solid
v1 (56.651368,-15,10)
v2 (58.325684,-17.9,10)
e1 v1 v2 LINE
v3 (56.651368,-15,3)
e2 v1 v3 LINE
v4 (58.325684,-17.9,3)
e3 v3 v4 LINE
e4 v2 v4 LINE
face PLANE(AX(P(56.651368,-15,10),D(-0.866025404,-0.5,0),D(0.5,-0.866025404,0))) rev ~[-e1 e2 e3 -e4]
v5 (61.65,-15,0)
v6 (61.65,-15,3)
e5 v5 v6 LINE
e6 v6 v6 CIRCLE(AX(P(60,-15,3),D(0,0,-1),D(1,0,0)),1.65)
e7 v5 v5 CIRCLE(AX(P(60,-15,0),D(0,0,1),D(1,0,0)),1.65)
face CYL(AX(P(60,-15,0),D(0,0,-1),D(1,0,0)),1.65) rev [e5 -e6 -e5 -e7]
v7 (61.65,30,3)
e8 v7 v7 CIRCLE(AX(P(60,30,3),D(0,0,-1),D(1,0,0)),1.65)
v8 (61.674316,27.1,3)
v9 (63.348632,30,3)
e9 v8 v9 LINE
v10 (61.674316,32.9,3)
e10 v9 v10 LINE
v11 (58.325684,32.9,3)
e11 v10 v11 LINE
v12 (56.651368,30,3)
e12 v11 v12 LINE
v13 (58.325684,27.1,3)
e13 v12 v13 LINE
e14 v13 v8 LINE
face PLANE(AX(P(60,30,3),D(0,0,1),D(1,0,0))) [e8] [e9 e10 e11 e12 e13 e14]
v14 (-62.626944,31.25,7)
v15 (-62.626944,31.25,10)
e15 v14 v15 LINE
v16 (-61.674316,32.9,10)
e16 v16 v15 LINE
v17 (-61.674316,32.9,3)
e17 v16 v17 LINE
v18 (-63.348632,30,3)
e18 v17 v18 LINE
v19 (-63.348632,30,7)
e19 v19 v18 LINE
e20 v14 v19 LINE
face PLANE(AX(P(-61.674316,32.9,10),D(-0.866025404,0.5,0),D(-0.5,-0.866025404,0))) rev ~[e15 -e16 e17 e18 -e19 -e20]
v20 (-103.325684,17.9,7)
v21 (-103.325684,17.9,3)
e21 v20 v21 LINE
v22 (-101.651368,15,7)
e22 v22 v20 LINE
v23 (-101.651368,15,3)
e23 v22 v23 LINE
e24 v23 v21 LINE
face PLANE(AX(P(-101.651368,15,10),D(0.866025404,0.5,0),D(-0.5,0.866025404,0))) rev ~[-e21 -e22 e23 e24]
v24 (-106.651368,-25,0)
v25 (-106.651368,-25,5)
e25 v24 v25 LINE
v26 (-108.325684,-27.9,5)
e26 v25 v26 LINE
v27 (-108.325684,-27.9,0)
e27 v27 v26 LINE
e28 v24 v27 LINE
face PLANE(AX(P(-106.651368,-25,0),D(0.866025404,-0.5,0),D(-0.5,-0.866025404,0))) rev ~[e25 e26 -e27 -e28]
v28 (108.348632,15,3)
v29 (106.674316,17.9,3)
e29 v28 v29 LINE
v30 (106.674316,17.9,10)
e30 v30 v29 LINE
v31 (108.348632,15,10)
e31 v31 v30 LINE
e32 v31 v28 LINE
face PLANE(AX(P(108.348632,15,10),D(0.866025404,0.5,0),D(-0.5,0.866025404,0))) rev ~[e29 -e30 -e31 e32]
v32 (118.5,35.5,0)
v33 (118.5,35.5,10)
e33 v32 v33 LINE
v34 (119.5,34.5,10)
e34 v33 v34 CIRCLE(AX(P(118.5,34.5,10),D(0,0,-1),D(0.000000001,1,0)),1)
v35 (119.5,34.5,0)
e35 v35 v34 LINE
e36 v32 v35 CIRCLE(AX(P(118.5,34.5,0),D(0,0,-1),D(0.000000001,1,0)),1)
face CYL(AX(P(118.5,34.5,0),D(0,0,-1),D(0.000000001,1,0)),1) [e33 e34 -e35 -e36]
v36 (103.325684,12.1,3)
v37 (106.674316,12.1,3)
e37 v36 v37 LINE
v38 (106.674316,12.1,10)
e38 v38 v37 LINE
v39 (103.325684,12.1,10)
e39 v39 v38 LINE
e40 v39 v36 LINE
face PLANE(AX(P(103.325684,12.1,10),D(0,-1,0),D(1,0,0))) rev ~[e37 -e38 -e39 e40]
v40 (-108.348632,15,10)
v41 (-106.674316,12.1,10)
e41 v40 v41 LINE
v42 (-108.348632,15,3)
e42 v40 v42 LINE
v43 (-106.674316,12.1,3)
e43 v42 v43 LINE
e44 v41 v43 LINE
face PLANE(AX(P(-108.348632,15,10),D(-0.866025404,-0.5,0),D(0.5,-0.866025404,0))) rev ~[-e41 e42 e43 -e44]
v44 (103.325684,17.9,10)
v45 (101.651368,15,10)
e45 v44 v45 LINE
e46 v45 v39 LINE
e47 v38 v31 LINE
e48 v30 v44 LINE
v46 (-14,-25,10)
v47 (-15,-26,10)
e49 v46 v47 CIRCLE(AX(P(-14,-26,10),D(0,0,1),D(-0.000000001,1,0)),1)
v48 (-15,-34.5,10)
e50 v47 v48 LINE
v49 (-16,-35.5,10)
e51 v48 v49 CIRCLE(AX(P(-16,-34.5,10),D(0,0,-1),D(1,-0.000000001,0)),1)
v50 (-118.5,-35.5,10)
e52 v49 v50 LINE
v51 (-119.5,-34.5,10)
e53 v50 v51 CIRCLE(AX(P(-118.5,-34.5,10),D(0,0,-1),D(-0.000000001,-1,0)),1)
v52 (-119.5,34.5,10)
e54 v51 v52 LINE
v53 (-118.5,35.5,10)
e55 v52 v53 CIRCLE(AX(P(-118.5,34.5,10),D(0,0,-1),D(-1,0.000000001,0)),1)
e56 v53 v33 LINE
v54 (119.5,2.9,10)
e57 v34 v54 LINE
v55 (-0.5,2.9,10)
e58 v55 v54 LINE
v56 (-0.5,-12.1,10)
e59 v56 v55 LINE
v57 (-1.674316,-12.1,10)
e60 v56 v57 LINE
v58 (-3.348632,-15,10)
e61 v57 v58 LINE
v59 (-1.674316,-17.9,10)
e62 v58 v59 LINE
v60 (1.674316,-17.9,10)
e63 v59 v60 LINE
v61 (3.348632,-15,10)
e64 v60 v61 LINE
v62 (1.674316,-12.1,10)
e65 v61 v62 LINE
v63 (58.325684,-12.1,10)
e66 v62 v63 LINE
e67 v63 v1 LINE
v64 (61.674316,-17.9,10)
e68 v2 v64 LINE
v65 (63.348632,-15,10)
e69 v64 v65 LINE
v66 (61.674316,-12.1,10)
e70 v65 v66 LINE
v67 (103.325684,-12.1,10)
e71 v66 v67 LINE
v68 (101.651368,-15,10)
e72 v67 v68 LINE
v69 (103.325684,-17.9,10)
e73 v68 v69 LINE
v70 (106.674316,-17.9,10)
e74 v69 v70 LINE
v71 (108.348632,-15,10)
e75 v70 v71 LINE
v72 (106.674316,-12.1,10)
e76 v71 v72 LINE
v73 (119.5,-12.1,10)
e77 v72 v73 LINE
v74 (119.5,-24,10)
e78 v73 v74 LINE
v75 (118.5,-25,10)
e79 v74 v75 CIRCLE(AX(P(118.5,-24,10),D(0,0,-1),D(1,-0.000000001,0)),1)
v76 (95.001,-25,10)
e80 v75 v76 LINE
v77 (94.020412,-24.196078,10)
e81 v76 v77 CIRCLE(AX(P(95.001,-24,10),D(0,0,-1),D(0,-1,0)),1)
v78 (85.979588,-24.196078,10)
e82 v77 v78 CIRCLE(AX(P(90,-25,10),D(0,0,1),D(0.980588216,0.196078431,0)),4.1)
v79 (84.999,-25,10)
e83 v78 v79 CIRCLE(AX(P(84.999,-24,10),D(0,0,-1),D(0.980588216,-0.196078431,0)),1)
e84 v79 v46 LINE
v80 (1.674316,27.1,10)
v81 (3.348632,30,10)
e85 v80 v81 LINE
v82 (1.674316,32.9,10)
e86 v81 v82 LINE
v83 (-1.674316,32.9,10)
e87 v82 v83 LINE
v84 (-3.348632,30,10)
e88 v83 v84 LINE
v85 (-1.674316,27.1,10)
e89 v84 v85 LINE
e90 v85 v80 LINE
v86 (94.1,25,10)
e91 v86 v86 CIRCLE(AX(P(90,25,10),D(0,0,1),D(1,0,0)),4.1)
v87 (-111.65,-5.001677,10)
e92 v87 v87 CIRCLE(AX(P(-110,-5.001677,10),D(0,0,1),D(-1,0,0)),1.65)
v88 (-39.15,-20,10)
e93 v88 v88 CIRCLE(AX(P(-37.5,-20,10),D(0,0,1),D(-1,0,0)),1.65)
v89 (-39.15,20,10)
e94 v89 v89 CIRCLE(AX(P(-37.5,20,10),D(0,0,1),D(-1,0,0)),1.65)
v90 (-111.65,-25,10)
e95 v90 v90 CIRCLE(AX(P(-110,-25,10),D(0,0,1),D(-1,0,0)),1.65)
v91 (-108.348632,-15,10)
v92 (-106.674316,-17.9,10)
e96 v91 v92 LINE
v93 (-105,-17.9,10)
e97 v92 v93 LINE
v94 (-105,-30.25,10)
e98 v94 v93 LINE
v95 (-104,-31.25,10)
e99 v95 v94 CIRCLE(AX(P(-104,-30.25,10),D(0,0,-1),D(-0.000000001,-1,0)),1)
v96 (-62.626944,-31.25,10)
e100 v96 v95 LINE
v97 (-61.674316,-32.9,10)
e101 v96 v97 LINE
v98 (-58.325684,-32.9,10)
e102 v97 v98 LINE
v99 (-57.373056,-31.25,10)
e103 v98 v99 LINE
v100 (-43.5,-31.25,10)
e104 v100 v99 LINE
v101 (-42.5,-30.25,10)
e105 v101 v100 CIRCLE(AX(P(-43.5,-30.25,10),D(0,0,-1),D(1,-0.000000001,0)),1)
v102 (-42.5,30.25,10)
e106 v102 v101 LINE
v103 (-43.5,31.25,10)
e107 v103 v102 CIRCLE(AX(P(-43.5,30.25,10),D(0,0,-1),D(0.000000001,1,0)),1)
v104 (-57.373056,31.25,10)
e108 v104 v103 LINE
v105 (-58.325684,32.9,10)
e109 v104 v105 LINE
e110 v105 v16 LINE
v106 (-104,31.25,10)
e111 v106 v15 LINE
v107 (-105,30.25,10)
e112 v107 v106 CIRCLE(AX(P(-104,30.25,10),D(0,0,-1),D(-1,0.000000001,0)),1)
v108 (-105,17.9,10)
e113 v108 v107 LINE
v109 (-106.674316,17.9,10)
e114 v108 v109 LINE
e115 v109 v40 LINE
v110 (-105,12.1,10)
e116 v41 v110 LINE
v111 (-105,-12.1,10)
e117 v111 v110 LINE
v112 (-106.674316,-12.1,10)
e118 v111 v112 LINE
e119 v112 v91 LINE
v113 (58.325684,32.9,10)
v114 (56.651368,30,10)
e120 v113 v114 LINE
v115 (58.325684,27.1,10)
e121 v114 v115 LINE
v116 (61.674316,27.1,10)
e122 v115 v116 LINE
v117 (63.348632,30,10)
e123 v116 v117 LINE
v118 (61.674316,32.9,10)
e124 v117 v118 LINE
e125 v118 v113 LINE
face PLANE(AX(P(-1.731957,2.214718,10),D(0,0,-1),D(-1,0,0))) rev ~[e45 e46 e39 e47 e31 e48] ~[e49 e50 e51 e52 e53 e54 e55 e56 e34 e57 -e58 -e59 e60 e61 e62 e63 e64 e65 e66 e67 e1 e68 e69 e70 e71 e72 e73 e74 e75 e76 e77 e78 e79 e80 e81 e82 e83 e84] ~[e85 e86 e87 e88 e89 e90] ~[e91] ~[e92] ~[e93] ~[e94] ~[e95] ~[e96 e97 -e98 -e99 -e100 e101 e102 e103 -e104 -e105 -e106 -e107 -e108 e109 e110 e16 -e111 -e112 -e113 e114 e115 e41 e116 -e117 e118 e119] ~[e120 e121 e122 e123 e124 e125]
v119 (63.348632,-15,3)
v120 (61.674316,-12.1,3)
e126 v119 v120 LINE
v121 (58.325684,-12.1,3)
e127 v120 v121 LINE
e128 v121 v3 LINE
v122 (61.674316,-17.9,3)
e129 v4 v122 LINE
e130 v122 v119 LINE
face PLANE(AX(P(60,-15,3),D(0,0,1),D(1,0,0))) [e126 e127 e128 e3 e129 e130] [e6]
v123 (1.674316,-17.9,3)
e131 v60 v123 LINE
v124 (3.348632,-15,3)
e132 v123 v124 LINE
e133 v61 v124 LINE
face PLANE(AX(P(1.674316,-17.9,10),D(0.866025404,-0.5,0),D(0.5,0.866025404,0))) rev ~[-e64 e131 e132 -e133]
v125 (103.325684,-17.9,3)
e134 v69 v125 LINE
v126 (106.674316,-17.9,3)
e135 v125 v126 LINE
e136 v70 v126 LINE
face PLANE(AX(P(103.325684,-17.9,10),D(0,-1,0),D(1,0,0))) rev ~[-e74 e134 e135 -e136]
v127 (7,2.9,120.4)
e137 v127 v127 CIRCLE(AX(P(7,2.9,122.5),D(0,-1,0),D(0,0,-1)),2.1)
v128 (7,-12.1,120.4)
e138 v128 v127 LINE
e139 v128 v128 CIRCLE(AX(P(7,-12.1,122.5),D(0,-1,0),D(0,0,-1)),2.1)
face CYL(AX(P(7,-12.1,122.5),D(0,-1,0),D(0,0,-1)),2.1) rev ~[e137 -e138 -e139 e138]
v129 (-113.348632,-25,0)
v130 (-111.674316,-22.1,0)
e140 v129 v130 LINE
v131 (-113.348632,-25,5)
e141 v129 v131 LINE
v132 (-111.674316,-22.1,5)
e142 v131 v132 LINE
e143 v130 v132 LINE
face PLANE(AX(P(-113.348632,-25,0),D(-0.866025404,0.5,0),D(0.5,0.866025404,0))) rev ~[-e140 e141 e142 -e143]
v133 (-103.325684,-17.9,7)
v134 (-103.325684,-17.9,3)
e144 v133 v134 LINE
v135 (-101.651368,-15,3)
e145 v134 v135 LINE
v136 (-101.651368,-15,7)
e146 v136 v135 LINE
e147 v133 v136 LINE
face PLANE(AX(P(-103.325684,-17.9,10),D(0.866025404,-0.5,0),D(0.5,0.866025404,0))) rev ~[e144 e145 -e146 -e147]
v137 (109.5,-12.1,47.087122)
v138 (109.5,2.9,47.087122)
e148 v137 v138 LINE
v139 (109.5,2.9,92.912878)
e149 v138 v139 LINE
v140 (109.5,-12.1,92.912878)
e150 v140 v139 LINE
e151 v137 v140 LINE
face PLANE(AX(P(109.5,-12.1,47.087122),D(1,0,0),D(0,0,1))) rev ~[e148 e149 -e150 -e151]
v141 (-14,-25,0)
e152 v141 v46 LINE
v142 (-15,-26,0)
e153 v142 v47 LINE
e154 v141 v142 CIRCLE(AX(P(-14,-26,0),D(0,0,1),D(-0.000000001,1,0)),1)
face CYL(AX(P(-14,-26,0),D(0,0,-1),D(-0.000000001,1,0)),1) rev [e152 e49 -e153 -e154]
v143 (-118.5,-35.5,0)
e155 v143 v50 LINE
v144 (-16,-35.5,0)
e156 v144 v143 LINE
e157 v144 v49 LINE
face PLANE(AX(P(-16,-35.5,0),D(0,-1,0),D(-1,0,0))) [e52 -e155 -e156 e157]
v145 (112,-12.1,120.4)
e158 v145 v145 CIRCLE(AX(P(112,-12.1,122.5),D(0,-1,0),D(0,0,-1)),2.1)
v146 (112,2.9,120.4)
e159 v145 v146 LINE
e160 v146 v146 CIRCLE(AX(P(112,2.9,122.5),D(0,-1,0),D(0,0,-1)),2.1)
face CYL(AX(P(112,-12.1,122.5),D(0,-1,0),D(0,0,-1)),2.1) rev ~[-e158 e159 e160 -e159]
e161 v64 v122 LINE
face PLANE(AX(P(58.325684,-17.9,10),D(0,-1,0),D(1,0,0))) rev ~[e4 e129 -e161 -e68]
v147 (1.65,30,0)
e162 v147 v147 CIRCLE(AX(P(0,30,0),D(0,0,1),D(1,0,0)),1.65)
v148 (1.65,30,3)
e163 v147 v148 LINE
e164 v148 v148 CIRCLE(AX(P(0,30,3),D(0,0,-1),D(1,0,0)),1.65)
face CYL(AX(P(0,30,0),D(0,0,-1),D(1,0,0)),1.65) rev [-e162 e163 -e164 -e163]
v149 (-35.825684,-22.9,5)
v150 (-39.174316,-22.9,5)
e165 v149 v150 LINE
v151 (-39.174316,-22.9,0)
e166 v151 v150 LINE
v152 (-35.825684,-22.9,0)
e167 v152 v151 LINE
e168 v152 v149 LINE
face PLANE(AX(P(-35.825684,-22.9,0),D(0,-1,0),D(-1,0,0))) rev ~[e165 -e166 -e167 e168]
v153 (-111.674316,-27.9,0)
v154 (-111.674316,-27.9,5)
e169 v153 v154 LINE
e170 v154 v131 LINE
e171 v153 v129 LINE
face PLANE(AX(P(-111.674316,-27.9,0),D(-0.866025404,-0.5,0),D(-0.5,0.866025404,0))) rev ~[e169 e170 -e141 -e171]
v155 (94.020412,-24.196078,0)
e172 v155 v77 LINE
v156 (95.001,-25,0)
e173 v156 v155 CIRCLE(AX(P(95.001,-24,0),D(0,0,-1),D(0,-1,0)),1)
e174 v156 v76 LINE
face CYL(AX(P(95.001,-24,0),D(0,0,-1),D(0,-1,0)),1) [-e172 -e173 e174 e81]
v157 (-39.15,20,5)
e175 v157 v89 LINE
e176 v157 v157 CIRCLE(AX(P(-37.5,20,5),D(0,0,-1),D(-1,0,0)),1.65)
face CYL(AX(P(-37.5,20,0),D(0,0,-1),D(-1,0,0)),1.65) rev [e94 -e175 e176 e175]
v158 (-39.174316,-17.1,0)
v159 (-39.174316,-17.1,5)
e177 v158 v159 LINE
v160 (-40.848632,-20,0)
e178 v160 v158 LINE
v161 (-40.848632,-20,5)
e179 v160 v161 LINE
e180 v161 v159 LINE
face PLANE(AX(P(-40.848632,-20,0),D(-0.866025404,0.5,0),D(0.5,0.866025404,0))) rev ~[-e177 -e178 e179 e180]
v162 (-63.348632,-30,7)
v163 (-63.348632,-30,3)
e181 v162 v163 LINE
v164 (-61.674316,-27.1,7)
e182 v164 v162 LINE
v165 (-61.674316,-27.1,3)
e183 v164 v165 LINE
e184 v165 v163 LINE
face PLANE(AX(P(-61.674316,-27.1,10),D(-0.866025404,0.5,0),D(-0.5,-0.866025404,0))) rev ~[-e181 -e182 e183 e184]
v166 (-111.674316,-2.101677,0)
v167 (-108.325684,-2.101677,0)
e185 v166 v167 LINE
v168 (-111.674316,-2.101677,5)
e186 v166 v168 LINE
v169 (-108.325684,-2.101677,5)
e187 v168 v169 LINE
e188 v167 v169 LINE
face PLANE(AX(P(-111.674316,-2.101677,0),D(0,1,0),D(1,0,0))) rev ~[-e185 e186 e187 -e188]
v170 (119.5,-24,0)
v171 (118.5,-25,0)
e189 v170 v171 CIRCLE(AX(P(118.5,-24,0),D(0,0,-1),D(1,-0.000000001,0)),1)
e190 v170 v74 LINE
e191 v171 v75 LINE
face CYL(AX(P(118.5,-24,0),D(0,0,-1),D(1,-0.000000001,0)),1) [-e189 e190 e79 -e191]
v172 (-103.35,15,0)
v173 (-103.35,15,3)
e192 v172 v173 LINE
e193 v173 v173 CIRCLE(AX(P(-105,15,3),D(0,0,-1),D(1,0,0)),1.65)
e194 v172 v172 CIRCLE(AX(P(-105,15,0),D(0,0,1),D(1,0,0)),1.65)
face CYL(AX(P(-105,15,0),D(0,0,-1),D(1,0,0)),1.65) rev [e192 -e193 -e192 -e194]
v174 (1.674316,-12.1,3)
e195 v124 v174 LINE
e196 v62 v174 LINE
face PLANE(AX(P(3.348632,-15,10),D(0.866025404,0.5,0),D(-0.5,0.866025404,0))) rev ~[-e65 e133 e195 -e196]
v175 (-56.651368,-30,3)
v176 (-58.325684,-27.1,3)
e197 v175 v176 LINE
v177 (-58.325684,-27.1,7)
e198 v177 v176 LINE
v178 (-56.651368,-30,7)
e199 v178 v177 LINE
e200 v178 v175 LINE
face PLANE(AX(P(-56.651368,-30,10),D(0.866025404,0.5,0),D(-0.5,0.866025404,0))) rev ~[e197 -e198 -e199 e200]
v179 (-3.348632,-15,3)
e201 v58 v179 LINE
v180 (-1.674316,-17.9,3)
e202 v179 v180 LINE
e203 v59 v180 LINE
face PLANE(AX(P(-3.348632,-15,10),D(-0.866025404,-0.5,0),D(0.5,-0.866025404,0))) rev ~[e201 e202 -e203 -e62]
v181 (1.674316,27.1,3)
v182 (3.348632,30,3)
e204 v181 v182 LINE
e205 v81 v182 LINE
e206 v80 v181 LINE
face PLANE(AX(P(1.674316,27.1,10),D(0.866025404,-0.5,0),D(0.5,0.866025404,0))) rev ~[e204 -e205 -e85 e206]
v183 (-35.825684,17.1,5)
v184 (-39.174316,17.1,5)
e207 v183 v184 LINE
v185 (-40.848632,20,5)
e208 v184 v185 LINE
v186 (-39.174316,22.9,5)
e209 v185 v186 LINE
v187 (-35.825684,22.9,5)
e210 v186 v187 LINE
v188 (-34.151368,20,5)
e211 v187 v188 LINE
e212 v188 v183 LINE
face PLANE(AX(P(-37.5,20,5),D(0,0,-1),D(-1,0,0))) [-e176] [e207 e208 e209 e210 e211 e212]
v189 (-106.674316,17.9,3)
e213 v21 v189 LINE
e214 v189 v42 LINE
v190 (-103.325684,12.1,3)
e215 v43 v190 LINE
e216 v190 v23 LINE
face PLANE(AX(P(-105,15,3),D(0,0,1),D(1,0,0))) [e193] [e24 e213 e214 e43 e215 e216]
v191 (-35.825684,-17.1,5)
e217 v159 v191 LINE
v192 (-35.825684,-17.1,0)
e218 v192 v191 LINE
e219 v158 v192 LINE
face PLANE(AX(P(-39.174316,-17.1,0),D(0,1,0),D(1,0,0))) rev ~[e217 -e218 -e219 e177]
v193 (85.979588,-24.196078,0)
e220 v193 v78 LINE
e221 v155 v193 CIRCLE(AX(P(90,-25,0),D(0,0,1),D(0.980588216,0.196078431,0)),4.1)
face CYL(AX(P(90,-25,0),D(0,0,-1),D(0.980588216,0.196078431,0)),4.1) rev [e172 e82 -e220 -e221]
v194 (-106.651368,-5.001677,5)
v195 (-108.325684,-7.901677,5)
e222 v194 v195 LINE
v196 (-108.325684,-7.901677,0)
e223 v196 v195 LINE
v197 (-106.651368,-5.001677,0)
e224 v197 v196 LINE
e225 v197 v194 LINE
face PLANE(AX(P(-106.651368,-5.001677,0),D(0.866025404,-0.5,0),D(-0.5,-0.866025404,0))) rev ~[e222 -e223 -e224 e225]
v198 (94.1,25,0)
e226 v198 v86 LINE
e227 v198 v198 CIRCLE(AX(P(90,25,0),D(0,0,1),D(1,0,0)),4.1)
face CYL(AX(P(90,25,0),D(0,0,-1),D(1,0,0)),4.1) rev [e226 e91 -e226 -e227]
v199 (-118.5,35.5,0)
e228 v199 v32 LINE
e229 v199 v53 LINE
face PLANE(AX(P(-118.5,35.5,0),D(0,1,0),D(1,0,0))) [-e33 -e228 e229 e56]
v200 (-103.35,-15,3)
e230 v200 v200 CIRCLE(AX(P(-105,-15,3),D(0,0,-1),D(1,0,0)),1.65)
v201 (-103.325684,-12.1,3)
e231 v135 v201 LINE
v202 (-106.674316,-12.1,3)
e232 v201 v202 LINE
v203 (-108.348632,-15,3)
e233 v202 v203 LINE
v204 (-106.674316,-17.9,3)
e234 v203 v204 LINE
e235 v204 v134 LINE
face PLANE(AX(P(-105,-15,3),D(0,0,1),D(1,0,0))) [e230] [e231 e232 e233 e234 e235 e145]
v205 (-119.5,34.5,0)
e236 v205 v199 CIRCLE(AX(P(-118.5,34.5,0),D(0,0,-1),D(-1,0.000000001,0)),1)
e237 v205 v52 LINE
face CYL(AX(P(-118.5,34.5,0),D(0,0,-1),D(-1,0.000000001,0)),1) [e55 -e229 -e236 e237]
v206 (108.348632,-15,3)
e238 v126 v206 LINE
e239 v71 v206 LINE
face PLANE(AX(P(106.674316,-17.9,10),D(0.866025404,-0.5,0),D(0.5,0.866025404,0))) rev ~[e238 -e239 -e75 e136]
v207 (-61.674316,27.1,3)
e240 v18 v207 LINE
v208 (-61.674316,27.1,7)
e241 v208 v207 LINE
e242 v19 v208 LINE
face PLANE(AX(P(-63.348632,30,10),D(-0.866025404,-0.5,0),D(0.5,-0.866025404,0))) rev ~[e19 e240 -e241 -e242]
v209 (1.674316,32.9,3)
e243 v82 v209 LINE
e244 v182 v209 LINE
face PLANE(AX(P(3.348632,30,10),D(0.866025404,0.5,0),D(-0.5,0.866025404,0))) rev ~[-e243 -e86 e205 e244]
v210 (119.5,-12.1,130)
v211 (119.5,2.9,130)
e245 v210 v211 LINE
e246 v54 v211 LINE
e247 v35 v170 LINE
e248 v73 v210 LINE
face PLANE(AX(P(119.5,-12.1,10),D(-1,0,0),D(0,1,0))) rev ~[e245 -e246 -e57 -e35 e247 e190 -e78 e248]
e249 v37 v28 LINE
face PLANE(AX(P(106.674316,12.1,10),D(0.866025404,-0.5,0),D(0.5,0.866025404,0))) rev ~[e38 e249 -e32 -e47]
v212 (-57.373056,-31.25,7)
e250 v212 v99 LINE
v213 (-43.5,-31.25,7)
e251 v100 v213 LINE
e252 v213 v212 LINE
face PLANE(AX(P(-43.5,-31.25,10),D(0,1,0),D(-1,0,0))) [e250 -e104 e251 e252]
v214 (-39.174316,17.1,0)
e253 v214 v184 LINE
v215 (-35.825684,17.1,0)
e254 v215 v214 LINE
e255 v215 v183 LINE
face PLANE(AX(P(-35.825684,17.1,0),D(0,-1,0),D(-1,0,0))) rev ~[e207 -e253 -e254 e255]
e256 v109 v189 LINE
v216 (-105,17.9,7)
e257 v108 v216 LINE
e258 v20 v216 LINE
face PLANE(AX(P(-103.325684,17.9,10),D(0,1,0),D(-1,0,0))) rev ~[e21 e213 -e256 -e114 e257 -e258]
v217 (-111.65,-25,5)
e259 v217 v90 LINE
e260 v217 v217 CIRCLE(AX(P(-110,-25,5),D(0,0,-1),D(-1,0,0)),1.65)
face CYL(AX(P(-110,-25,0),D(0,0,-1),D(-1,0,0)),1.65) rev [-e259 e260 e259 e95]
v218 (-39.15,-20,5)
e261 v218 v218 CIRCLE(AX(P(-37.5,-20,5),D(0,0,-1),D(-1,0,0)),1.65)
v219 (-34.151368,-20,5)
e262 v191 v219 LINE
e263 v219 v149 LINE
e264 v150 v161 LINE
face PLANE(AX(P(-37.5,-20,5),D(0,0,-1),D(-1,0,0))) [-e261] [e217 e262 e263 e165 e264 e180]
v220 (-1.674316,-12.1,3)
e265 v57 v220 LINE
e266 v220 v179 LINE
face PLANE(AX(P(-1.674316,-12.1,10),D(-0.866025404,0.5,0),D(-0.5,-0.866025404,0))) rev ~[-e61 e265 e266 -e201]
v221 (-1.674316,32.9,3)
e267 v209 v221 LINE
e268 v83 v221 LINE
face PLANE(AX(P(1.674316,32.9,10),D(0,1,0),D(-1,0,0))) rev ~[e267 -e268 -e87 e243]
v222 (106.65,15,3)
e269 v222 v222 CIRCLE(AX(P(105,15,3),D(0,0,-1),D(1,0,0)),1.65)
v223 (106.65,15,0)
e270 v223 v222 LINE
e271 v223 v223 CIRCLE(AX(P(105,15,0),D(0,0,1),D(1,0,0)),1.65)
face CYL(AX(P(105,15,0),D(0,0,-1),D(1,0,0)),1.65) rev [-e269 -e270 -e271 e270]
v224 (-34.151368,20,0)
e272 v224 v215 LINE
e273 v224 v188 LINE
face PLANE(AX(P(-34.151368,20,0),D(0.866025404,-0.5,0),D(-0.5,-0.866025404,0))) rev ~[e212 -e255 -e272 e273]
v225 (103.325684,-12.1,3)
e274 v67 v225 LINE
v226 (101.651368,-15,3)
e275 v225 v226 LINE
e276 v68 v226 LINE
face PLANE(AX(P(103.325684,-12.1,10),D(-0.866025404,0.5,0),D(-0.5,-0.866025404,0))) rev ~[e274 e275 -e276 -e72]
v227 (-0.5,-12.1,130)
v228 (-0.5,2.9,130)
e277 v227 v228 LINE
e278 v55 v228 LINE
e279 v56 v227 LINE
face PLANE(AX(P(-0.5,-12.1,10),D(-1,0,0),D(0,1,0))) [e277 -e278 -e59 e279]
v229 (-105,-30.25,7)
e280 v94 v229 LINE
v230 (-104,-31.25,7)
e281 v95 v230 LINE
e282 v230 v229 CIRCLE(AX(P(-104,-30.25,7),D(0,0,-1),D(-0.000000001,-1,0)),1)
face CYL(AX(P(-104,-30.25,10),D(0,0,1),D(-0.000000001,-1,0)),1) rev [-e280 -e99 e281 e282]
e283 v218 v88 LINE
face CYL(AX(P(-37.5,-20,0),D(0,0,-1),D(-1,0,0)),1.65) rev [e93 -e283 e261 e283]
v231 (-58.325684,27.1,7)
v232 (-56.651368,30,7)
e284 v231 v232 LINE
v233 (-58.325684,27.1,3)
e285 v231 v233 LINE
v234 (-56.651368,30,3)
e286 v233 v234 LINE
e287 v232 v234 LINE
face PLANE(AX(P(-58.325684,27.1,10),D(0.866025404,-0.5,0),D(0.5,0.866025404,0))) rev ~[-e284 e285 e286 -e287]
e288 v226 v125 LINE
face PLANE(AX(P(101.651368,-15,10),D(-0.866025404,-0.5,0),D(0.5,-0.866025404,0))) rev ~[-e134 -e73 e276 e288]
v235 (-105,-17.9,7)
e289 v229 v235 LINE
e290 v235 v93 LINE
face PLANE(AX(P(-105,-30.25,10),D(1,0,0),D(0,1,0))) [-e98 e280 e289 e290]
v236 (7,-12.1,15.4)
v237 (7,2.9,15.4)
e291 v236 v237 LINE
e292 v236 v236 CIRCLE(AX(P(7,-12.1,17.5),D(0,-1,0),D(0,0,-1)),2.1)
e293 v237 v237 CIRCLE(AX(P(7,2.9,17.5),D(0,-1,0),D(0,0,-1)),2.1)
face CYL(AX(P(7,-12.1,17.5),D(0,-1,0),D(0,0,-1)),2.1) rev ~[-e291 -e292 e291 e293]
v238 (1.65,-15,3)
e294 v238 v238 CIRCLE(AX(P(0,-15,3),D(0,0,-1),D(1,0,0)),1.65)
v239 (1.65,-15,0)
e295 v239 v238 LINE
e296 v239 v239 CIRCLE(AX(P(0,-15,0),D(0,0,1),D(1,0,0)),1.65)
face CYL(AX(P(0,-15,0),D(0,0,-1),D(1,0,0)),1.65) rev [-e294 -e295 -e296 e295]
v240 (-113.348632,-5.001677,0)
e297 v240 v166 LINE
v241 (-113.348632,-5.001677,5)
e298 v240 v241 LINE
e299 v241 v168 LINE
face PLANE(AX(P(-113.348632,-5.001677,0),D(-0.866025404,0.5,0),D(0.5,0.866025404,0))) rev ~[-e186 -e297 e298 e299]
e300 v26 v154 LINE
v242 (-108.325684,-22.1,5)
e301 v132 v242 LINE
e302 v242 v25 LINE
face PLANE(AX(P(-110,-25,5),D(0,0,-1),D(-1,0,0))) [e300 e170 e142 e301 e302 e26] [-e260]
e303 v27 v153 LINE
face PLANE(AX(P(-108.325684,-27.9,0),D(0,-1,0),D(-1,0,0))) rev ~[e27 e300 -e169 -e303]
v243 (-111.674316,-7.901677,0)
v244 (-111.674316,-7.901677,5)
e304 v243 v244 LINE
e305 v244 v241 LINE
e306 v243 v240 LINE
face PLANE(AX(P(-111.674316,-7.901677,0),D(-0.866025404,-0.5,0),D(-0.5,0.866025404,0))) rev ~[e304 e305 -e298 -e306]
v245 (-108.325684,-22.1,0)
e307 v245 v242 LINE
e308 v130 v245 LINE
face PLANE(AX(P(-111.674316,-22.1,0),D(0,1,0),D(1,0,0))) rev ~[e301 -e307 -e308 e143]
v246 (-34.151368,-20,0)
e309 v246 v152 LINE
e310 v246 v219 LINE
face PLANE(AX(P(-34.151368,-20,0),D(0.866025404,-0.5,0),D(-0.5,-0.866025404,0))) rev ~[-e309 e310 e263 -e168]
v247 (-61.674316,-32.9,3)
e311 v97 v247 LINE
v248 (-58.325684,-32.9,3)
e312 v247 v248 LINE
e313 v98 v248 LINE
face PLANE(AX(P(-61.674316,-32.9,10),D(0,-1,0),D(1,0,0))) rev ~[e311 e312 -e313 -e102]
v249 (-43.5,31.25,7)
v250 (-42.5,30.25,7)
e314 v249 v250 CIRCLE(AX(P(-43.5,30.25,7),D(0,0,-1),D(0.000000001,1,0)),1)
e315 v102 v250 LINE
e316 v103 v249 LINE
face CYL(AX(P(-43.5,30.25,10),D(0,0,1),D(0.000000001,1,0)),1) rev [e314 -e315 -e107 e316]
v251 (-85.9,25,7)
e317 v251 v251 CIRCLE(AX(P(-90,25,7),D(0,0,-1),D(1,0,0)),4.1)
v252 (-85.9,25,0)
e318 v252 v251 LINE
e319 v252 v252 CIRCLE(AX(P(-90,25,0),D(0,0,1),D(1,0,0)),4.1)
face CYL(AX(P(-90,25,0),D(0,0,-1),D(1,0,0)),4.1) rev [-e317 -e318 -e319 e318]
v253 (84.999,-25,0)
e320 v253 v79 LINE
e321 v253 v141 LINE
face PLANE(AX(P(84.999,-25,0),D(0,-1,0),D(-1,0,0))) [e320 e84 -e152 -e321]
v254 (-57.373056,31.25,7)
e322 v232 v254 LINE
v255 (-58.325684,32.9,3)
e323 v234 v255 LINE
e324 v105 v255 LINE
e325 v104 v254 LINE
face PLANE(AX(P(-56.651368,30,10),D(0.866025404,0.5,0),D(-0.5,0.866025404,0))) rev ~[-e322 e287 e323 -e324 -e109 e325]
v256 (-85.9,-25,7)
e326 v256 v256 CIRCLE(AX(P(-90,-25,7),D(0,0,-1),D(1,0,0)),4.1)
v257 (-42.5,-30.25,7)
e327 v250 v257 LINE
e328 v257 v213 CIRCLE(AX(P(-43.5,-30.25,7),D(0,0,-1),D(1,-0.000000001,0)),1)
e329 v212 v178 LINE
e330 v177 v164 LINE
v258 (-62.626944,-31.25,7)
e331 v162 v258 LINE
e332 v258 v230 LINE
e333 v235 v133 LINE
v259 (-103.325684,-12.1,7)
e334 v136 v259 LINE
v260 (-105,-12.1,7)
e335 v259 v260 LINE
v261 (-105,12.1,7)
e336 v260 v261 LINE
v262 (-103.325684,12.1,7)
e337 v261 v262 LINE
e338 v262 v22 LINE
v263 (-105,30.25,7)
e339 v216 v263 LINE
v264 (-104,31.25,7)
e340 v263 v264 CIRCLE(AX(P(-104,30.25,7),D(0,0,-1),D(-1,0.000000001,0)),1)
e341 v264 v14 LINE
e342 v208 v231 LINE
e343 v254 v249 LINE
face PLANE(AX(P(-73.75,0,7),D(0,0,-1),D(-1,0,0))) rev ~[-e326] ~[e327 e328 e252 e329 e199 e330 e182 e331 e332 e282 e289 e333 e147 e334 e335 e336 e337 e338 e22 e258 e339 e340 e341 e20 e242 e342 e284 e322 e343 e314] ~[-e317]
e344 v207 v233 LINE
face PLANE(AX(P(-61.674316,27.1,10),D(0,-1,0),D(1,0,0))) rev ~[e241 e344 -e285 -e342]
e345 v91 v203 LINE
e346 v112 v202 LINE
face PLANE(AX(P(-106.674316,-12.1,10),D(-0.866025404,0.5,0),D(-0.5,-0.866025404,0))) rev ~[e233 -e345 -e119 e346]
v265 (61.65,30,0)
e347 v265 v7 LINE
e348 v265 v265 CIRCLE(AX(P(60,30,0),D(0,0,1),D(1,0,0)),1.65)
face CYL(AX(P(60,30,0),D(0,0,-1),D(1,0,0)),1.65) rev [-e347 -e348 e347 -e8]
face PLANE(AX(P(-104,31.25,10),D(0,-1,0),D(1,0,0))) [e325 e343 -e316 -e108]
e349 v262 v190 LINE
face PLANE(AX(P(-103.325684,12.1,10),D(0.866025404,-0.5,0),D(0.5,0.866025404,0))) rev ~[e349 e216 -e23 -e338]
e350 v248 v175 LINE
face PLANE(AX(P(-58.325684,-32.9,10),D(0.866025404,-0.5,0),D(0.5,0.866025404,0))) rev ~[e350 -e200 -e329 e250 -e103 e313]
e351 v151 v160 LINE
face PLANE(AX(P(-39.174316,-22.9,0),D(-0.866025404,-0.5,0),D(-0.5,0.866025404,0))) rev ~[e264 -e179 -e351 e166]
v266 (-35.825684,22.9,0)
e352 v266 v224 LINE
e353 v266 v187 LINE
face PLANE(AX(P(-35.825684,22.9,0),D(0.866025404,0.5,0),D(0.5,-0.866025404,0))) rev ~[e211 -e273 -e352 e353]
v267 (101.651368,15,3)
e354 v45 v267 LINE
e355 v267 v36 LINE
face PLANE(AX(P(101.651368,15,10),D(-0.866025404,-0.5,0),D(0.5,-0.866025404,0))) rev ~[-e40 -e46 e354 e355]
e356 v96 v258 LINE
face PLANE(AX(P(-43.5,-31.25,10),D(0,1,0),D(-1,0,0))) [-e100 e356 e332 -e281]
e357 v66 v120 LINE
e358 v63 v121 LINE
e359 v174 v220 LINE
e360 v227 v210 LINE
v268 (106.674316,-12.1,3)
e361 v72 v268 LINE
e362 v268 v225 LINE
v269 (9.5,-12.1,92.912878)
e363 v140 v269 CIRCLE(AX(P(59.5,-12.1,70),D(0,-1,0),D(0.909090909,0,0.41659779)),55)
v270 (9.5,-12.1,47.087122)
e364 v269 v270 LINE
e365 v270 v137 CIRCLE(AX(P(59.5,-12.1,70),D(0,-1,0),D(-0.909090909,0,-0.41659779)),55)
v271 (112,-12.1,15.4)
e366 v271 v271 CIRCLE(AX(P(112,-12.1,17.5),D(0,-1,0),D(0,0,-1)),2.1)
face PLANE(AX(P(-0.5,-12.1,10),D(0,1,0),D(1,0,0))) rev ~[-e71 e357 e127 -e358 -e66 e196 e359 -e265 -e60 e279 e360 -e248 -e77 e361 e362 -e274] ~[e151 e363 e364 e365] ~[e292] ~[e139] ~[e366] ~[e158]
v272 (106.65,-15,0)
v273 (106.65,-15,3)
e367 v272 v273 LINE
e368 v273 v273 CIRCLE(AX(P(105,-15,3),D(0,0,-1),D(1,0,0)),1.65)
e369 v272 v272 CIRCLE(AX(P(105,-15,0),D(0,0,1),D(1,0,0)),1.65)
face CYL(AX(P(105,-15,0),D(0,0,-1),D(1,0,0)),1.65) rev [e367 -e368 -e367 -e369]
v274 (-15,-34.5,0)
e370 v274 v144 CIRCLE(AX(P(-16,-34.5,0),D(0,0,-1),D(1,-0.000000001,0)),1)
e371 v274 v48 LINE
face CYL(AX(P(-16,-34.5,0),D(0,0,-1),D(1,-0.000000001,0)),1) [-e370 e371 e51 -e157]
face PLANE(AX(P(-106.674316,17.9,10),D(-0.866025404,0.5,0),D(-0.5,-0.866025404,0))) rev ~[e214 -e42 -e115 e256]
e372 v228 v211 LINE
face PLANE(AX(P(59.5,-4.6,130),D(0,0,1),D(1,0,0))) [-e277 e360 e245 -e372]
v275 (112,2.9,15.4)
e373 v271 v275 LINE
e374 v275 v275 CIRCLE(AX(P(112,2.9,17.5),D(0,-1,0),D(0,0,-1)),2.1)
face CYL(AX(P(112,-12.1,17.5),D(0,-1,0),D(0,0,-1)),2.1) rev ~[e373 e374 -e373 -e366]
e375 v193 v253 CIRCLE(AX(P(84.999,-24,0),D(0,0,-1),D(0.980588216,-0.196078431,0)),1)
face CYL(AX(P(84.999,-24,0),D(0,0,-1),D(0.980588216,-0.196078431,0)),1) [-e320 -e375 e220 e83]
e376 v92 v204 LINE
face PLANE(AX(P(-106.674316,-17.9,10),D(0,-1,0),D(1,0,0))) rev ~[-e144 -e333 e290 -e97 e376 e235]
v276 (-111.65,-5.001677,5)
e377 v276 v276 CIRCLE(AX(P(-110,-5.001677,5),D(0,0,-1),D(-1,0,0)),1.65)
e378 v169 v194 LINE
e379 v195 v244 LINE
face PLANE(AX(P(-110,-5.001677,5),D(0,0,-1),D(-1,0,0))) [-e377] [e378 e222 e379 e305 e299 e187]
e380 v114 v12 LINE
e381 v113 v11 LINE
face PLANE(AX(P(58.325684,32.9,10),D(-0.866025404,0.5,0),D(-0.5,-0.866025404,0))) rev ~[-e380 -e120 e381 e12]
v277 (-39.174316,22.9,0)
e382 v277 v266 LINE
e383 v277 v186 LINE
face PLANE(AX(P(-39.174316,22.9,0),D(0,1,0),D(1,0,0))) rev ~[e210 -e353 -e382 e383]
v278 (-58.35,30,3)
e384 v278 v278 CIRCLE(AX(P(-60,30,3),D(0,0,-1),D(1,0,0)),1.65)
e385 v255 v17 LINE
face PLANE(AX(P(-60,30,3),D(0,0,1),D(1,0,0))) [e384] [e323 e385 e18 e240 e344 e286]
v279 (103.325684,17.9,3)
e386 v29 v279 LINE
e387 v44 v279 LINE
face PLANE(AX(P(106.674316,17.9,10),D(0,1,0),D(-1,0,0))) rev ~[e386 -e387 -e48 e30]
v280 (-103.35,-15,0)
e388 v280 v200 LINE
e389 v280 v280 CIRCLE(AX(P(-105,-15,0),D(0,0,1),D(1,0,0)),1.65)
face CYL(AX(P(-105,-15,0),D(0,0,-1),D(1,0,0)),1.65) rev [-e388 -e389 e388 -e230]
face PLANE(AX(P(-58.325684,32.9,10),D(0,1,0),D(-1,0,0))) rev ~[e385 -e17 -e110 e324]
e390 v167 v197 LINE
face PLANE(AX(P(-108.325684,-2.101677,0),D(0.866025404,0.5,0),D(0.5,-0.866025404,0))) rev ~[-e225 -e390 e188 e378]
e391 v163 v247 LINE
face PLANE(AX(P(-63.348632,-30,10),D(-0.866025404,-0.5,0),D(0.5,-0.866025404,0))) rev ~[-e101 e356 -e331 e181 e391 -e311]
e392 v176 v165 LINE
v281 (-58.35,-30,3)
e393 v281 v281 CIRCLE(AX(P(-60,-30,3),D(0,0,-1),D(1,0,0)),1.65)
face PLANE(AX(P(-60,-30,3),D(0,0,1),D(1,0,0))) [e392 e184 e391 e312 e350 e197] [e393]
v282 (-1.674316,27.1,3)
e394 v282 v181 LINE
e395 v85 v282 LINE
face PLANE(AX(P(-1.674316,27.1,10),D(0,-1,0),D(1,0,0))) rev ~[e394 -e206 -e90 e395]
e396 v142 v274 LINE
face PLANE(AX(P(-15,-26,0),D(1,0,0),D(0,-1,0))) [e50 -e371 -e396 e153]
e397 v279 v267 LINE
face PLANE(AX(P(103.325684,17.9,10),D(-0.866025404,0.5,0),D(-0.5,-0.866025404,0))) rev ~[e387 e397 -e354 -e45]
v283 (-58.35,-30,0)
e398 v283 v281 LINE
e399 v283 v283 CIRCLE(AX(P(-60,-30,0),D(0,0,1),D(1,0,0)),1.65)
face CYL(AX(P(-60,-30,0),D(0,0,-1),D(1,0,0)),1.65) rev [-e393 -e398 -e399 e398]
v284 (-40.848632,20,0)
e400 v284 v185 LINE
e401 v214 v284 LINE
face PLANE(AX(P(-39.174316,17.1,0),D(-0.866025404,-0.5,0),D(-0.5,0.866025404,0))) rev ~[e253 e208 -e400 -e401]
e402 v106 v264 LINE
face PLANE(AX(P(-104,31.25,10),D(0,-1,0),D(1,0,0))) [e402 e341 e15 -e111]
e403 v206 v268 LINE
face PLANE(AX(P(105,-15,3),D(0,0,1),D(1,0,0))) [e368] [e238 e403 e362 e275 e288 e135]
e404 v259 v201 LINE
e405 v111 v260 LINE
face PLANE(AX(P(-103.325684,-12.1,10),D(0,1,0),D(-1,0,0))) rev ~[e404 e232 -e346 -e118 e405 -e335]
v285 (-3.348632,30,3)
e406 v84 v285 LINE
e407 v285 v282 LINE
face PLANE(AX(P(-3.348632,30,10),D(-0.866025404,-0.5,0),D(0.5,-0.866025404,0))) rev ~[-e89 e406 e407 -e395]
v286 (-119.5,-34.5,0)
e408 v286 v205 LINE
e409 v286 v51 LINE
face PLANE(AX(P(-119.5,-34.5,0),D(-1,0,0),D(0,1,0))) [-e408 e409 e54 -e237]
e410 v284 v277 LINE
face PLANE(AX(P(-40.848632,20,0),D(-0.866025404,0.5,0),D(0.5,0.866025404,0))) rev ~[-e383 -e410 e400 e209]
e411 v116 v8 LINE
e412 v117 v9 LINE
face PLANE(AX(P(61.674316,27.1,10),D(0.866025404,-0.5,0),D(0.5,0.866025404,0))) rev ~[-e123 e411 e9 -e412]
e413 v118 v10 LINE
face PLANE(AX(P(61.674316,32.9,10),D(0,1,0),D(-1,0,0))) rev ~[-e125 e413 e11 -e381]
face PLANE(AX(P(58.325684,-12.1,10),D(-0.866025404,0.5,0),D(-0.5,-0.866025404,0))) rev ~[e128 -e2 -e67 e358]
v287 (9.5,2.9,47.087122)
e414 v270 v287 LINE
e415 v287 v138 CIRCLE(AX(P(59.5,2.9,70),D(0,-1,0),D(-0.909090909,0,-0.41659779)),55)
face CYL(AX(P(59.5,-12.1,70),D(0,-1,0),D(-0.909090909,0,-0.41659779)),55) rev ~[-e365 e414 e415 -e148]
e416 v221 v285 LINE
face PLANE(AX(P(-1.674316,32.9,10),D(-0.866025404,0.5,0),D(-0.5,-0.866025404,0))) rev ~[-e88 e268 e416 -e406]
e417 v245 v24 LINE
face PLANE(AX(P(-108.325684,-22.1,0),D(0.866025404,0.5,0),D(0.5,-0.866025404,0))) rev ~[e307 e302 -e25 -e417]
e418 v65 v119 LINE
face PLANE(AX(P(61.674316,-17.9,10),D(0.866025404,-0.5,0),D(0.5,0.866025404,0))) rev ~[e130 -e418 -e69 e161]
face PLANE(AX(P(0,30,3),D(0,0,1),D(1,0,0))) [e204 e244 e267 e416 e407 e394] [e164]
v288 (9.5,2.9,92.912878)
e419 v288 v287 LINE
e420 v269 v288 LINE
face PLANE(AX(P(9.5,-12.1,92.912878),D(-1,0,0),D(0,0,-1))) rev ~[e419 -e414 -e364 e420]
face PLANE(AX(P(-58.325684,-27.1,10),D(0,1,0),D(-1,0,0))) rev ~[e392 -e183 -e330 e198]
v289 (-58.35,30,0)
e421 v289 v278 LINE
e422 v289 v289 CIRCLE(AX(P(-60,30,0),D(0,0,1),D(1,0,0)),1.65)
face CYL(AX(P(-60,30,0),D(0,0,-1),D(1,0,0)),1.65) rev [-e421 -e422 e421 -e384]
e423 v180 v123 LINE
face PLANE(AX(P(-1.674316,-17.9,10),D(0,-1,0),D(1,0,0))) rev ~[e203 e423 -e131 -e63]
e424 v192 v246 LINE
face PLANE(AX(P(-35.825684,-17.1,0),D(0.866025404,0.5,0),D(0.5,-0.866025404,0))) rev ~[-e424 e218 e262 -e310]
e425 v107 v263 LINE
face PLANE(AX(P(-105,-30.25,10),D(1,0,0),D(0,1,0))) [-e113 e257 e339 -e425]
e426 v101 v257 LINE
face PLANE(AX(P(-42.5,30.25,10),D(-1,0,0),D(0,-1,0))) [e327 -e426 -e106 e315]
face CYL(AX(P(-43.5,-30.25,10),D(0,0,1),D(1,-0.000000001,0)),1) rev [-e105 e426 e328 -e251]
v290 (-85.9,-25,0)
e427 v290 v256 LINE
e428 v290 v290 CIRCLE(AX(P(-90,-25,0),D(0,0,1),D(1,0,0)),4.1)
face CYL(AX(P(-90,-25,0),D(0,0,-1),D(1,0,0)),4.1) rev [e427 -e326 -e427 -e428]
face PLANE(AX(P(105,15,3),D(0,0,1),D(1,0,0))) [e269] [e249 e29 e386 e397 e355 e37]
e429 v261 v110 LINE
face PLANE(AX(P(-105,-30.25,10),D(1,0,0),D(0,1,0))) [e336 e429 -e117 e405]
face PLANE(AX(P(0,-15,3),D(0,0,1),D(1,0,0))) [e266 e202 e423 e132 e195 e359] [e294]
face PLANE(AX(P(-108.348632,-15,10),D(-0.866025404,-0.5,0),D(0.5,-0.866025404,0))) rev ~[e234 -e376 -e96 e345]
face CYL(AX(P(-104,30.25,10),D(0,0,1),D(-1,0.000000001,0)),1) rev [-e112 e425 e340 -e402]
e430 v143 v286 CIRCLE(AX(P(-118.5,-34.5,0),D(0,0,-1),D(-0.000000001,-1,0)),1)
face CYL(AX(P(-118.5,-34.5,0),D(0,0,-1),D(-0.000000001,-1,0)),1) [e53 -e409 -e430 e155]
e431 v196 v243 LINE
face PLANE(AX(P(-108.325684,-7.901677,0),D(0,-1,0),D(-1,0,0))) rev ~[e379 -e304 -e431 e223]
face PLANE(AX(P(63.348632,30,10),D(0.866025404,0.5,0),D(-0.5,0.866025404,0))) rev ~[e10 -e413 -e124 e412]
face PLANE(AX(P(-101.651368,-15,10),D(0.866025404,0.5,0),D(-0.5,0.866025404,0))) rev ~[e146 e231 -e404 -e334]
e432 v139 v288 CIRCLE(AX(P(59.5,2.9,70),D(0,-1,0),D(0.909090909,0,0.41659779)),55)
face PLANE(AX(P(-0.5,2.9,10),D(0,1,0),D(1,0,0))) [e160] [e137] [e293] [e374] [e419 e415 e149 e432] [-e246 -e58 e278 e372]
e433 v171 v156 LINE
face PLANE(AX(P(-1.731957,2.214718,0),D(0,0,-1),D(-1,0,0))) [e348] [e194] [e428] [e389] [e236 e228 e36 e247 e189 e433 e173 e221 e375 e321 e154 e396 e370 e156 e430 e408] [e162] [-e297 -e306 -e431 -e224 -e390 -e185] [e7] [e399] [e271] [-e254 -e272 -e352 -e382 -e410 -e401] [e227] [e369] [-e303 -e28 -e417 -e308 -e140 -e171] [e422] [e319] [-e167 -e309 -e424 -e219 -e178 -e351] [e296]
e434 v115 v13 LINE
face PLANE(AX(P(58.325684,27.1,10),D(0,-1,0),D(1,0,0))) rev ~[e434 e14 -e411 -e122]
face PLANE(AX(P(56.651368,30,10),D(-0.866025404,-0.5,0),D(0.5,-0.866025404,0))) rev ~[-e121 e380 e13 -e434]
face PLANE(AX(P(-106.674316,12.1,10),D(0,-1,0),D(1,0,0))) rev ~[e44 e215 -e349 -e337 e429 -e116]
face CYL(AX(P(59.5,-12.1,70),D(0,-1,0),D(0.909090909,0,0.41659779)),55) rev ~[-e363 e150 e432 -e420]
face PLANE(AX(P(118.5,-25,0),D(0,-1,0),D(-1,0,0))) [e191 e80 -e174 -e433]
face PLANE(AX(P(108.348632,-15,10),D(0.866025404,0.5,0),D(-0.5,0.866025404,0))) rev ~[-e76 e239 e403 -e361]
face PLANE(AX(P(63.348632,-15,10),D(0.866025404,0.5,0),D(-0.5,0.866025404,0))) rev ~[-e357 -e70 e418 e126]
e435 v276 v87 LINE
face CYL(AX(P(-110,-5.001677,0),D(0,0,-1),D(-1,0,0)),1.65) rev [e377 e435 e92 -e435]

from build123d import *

# Parameters (mm, degrees)
SKETCH1_R           = 4.1
SKETCH1_R_2         = 1.65
BOSS_EXTRUDE1_DEPTH = 10
CUT_EXTRUDE1_DEPTH  = 7
CUT_EXTRUDE2_DEPTH  = 3
CUT_EXTRUDE3_DEPTH  = 5
SKETCH5_W           = 120
SKETCH5_H           = 15
BOSS_EXTRUDE2_DEPTH = 120
SKETCH6_R           = 2.1
CUT_EXTRUDE4_DEPTH  = 15


with BuildPart() as part:
    # Sketch1 → Boss-Extrude1 (new body)
    with BuildSketch(Plane.XY):
        with BuildLine():
            Line((118.5, -25), (95.0009999, -25))
            ThreePointArc((95.0009999, -25), (94.366996127, -24.773329953), (94.020411684, -24.196078431))
            ThreePointArc((94.020411684, -24.196078431), (90, -20.9), (85.979588316, -24.196078431))
            ThreePointArc((85.979588316, -24.196078431), (85.633003873, -24.773329953), (84.9990001, -25))
            Line((84.9990001, -25), (-14, -25))
            ThreePointArc((-14, -25), (-14.707106781, -25.292893219), (-15, -26))
            Line((-15, -26), (-15, -34.5))
            ThreePointArc((-15, -34.5), (-15.292893219, -35.207106781), (-16, -35.5))
            Line((-16, -35.5), (-118.5, -35.5))
            ThreePointArc((-118.5, -35.5), (-119.207106781, -35.207106781), (-119.5, -34.5))
            Line((-119.5, -34.5), (-119.5, 34.5))
            ThreePointArc((-119.5, 34.5), (-119.207106781, 35.207106781), (-118.5, 35.5))
            Line((-118.5, 35.5), (118.5, 35.5))
            ThreePointArc((118.5, 35.5), (119.207106781, 35.207106781), (119.5, 34.5))
            Line((119.5, 34.5), (119.5, -24))
            ThreePointArc((119.5, -24), (119.207106781, -24.707106781), (118.5, -25))
        make_face()
        with Locations((-90, 25)):
            Circle(SKETCH1_R, mode=Mode.SUBTRACT)
        with Locations((90, 25)):
            Circle(SKETCH1_R, mode=Mode.SUBTRACT)
        with Locations((-90, -25)):
            Circle(SKETCH1_R, mode=Mode.SUBTRACT)
        with Locations((105, -15)):
            Circle(SKETCH1_R_2, mode=Mode.SUBTRACT)
        with Locations((-60, 30)):
            Circle(SKETCH1_R_2, mode=Mode.SUBTRACT)
        with Locations((-60, -30)):
            Circle(SKETCH1_R_2, mode=Mode.SUBTRACT)
        with Locations((-105, 15)):
            Circle(SKETCH1_R_2, mode=Mode.SUBTRACT)
        with Locations((-105, -15)):
            Circle(SKETCH1_R_2, mode=Mode.SUBTRACT)
        with Locations(Location((-37.5, 20, 0), (0, 0, 180))):
            Circle(SKETCH1_R_2, mode=Mode.SUBTRACT)
        with Locations(Location((-37.5, -20, 0), (0, 0, 180))):
            Circle(SKETCH1_R_2, mode=Mode.SUBTRACT)
        with Locations(Location((-110, -5.001676566, 0), (0, 0, 180))):
            Circle(SKETCH1_R_2, mode=Mode.SUBTRACT)
        with Locations(Location((-110, -25, 0), (0, 0, 180))):
            Circle(SKETCH1_R_2, mode=Mode.SUBTRACT)
        with Locations((60, 30)):
            Circle(SKETCH1_R_2, mode=Mode.SUBTRACT)
        with Locations((60, -15)):
            Circle(SKETCH1_R_2, mode=Mode.SUBTRACT)
        with Locations((105, 15)):
            Circle(SKETCH1_R_2, mode=Mode.SUBTRACT)
        with Locations((0, 30)):
            Circle(SKETCH1_R_2, mode=Mode.SUBTRACT)
        with Locations((0, -15)):
            Circle(SKETCH1_R_2, mode=Mode.SUBTRACT)
    extrude(amount=BOSS_EXTRUDE1_DEPTH)

    # Sketch2 → Cut-Extrude1 (cut)
    with BuildSketch(Plane.XY.offset(10)):
        Polygon((-101.651368439, 15), (-103.325684219, 17.9), (-106.674315781, 17.9), (-108.348631561, 15), (-106.674315781, 12.1), (-103.325684219, 12.1), align=None)
        Polygon((-101.651368439, -15), (-103.325684219, -12.1), (-106.674315781, -12.1), (-108.348631561, -15), (-106.674315781, -17.9), (-103.325684219, -17.9), align=None)
        Polygon((-56.651368439, 30), (-58.325684219, 32.9), (-61.674315781, 32.9), (-63.348631561, 30), (-61.674315781, 27.1), (-58.325684219, 27.1), align=None)
        Polygon((108.348631561, -15), (106.674315781, -12.1), (103.325684219, -12.1), (101.651368439, -15), (103.325684219, -17.9), (106.674315781, -17.9), align=None)
        Polygon((63.348631561, 30), (61.674315781, 32.9), (58.325684219, 32.9), (56.651368439, 30), (58.325684219, 27.1), (61.674315781, 27.1), align=None)
        Polygon((-56.651368439, -30), (-58.325684219, -27.1), (-61.674315781, -27.1), (-63.348631561, -30), (-61.674315781, -32.9), (-58.325684219, -32.9), align=None)
        Polygon((63.348631561, -15), (61.674315781, -12.1), (58.325684219, -12.1), (56.651368439, -15), (58.325684219, -17.9), (61.674315781, -17.9), align=None)
        Polygon((108.348631561, 15), (106.674315781, 17.9), (103.325684219, 17.9), (101.651368439, 15), (103.325684219, 12.1), (106.674315781, 12.1), align=None)
        Polygon((3.348631561, 30), (1.674315781, 32.9), (-1.674315781, 32.9), (-3.348631561, 30), (-1.674315781, 27.1), (1.674315781, 27.1), align=None)
        Polygon((3.348631561, -15), (1.674315781, -12.1), (-1.674315781, -12.1), (-3.348631561, -15), (-1.674315781, -17.9), (1.674315781, -17.9), align=None)
    extrude(amount=-CUT_EXTRUDE1_DEPTH, mode=Mode.SUBTRACT)

    # Sketch3 → Cut-Extrude2 (cut)
    with BuildSketch(Plane.XY.offset(10)):
        with BuildLine():
            Line((-104, 31.25), (-43.5, 31.25))
            ThreePointArc((-43.5, 31.25), (-42.792893219, 30.957106781), (-42.5, 30.25))
            Line((-42.5, 30.25), (-42.5, -30.25))
            ThreePointArc((-42.5, -30.25), (-42.792893219, -30.957106781), (-43.5, -31.25))
            Line((-43.5, -31.25), (-104, -31.25))
            ThreePointArc((-104, -31.25), (-104.707106781, -30.957106781), (-105, -30.25))
            Line((-105, -30.25), (-105, 30.25))
            ThreePointArc((-105, 30.25), (-104.707106781, 30.957106781), (-104, 31.25))
        make_face()
    extrude(amount=-CUT_EXTRUDE2_DEPTH, mode=Mode.SUBTRACT)

    # Sketch4 → Cut-Extrude3 (cut)
    with BuildSketch(Plane(origin=(0, 0, 0), x_dir=(-1, 0, 0), z_dir=(0, 0, -1))):
        Polygon((40.848631561, 20), (39.174315781, 22.9), (35.825684219, 22.9), (34.151368439, 20), (35.825684219, 17.1), (39.174315781, 17.1), align=None)
        Polygon((40.848631561, -20), (39.174315781, -17.1), (35.825684219, -17.1), (34.151368439, -20), (35.825684219, -22.9), (39.174315781, -22.9), align=None)
        Polygon((113.348631561, -25), (111.674315781, -22.1), (108.325684219, -22.1), (106.651368439, -25), (108.325684219, -27.9), (111.674315781, -27.9), align=None)
        Polygon((113.348631561, -5.001676566), (111.674315781, -2.101676566), (108.325684219, -2.101676566), (106.651368439, -5.001676566), (108.325684219, -7.901676566), (111.674315781, -7.901676566), align=None)
    extrude(amount=-CUT_EXTRUDE3_DEPTH, mode=Mode.SUBTRACT)

    # Sketch5 → Boss-Extrude2 (add)
    with BuildSketch(Plane.XY.offset(10)):
        with Locations((59.5, -4.6)):
            Rectangle(SKETCH5_W, SKETCH5_H)
    extrude(amount=BOSS_EXTRUDE2_DEPTH)

    # Sketch6 → Cut-Extrude4 (cut)
    with BuildSketch(Plane.XZ.offset(12.1)):
        with Locations(Location((7, 122.5, 0), (0, 0, 270))):
            Circle(SKETCH6_R)
        with Locations(Location((7, 17.5, 0), (0, 0, 270))):
            Circle(SKETCH6_R)
        with Locations(Location((112, 17.5, 0), (0, 0, 270))):
            Circle(SKETCH6_R)
        with Locations(Location((112, 122.5, 0), (0, 0, 270))):
            Circle(SKETCH6_R)
        with BuildLine():
            Line((9.5, 92.912878475), (9.5, 47.087121525))
            ThreePointArc((9.5, 47.087121525), (59.5, 15), (109.5, 47.087121525))
            Line((109.5, 47.087121525), (109.5, 92.912878475))
            ThreePointArc((109.5, 92.912878475), (59.5, 125), (9.5, 92.912878475))
        make_face()
    extrude(amount=-CUT_EXTRUDE4_DEPTH, mode=Mode.SUBTRACT)


solid = part.part
